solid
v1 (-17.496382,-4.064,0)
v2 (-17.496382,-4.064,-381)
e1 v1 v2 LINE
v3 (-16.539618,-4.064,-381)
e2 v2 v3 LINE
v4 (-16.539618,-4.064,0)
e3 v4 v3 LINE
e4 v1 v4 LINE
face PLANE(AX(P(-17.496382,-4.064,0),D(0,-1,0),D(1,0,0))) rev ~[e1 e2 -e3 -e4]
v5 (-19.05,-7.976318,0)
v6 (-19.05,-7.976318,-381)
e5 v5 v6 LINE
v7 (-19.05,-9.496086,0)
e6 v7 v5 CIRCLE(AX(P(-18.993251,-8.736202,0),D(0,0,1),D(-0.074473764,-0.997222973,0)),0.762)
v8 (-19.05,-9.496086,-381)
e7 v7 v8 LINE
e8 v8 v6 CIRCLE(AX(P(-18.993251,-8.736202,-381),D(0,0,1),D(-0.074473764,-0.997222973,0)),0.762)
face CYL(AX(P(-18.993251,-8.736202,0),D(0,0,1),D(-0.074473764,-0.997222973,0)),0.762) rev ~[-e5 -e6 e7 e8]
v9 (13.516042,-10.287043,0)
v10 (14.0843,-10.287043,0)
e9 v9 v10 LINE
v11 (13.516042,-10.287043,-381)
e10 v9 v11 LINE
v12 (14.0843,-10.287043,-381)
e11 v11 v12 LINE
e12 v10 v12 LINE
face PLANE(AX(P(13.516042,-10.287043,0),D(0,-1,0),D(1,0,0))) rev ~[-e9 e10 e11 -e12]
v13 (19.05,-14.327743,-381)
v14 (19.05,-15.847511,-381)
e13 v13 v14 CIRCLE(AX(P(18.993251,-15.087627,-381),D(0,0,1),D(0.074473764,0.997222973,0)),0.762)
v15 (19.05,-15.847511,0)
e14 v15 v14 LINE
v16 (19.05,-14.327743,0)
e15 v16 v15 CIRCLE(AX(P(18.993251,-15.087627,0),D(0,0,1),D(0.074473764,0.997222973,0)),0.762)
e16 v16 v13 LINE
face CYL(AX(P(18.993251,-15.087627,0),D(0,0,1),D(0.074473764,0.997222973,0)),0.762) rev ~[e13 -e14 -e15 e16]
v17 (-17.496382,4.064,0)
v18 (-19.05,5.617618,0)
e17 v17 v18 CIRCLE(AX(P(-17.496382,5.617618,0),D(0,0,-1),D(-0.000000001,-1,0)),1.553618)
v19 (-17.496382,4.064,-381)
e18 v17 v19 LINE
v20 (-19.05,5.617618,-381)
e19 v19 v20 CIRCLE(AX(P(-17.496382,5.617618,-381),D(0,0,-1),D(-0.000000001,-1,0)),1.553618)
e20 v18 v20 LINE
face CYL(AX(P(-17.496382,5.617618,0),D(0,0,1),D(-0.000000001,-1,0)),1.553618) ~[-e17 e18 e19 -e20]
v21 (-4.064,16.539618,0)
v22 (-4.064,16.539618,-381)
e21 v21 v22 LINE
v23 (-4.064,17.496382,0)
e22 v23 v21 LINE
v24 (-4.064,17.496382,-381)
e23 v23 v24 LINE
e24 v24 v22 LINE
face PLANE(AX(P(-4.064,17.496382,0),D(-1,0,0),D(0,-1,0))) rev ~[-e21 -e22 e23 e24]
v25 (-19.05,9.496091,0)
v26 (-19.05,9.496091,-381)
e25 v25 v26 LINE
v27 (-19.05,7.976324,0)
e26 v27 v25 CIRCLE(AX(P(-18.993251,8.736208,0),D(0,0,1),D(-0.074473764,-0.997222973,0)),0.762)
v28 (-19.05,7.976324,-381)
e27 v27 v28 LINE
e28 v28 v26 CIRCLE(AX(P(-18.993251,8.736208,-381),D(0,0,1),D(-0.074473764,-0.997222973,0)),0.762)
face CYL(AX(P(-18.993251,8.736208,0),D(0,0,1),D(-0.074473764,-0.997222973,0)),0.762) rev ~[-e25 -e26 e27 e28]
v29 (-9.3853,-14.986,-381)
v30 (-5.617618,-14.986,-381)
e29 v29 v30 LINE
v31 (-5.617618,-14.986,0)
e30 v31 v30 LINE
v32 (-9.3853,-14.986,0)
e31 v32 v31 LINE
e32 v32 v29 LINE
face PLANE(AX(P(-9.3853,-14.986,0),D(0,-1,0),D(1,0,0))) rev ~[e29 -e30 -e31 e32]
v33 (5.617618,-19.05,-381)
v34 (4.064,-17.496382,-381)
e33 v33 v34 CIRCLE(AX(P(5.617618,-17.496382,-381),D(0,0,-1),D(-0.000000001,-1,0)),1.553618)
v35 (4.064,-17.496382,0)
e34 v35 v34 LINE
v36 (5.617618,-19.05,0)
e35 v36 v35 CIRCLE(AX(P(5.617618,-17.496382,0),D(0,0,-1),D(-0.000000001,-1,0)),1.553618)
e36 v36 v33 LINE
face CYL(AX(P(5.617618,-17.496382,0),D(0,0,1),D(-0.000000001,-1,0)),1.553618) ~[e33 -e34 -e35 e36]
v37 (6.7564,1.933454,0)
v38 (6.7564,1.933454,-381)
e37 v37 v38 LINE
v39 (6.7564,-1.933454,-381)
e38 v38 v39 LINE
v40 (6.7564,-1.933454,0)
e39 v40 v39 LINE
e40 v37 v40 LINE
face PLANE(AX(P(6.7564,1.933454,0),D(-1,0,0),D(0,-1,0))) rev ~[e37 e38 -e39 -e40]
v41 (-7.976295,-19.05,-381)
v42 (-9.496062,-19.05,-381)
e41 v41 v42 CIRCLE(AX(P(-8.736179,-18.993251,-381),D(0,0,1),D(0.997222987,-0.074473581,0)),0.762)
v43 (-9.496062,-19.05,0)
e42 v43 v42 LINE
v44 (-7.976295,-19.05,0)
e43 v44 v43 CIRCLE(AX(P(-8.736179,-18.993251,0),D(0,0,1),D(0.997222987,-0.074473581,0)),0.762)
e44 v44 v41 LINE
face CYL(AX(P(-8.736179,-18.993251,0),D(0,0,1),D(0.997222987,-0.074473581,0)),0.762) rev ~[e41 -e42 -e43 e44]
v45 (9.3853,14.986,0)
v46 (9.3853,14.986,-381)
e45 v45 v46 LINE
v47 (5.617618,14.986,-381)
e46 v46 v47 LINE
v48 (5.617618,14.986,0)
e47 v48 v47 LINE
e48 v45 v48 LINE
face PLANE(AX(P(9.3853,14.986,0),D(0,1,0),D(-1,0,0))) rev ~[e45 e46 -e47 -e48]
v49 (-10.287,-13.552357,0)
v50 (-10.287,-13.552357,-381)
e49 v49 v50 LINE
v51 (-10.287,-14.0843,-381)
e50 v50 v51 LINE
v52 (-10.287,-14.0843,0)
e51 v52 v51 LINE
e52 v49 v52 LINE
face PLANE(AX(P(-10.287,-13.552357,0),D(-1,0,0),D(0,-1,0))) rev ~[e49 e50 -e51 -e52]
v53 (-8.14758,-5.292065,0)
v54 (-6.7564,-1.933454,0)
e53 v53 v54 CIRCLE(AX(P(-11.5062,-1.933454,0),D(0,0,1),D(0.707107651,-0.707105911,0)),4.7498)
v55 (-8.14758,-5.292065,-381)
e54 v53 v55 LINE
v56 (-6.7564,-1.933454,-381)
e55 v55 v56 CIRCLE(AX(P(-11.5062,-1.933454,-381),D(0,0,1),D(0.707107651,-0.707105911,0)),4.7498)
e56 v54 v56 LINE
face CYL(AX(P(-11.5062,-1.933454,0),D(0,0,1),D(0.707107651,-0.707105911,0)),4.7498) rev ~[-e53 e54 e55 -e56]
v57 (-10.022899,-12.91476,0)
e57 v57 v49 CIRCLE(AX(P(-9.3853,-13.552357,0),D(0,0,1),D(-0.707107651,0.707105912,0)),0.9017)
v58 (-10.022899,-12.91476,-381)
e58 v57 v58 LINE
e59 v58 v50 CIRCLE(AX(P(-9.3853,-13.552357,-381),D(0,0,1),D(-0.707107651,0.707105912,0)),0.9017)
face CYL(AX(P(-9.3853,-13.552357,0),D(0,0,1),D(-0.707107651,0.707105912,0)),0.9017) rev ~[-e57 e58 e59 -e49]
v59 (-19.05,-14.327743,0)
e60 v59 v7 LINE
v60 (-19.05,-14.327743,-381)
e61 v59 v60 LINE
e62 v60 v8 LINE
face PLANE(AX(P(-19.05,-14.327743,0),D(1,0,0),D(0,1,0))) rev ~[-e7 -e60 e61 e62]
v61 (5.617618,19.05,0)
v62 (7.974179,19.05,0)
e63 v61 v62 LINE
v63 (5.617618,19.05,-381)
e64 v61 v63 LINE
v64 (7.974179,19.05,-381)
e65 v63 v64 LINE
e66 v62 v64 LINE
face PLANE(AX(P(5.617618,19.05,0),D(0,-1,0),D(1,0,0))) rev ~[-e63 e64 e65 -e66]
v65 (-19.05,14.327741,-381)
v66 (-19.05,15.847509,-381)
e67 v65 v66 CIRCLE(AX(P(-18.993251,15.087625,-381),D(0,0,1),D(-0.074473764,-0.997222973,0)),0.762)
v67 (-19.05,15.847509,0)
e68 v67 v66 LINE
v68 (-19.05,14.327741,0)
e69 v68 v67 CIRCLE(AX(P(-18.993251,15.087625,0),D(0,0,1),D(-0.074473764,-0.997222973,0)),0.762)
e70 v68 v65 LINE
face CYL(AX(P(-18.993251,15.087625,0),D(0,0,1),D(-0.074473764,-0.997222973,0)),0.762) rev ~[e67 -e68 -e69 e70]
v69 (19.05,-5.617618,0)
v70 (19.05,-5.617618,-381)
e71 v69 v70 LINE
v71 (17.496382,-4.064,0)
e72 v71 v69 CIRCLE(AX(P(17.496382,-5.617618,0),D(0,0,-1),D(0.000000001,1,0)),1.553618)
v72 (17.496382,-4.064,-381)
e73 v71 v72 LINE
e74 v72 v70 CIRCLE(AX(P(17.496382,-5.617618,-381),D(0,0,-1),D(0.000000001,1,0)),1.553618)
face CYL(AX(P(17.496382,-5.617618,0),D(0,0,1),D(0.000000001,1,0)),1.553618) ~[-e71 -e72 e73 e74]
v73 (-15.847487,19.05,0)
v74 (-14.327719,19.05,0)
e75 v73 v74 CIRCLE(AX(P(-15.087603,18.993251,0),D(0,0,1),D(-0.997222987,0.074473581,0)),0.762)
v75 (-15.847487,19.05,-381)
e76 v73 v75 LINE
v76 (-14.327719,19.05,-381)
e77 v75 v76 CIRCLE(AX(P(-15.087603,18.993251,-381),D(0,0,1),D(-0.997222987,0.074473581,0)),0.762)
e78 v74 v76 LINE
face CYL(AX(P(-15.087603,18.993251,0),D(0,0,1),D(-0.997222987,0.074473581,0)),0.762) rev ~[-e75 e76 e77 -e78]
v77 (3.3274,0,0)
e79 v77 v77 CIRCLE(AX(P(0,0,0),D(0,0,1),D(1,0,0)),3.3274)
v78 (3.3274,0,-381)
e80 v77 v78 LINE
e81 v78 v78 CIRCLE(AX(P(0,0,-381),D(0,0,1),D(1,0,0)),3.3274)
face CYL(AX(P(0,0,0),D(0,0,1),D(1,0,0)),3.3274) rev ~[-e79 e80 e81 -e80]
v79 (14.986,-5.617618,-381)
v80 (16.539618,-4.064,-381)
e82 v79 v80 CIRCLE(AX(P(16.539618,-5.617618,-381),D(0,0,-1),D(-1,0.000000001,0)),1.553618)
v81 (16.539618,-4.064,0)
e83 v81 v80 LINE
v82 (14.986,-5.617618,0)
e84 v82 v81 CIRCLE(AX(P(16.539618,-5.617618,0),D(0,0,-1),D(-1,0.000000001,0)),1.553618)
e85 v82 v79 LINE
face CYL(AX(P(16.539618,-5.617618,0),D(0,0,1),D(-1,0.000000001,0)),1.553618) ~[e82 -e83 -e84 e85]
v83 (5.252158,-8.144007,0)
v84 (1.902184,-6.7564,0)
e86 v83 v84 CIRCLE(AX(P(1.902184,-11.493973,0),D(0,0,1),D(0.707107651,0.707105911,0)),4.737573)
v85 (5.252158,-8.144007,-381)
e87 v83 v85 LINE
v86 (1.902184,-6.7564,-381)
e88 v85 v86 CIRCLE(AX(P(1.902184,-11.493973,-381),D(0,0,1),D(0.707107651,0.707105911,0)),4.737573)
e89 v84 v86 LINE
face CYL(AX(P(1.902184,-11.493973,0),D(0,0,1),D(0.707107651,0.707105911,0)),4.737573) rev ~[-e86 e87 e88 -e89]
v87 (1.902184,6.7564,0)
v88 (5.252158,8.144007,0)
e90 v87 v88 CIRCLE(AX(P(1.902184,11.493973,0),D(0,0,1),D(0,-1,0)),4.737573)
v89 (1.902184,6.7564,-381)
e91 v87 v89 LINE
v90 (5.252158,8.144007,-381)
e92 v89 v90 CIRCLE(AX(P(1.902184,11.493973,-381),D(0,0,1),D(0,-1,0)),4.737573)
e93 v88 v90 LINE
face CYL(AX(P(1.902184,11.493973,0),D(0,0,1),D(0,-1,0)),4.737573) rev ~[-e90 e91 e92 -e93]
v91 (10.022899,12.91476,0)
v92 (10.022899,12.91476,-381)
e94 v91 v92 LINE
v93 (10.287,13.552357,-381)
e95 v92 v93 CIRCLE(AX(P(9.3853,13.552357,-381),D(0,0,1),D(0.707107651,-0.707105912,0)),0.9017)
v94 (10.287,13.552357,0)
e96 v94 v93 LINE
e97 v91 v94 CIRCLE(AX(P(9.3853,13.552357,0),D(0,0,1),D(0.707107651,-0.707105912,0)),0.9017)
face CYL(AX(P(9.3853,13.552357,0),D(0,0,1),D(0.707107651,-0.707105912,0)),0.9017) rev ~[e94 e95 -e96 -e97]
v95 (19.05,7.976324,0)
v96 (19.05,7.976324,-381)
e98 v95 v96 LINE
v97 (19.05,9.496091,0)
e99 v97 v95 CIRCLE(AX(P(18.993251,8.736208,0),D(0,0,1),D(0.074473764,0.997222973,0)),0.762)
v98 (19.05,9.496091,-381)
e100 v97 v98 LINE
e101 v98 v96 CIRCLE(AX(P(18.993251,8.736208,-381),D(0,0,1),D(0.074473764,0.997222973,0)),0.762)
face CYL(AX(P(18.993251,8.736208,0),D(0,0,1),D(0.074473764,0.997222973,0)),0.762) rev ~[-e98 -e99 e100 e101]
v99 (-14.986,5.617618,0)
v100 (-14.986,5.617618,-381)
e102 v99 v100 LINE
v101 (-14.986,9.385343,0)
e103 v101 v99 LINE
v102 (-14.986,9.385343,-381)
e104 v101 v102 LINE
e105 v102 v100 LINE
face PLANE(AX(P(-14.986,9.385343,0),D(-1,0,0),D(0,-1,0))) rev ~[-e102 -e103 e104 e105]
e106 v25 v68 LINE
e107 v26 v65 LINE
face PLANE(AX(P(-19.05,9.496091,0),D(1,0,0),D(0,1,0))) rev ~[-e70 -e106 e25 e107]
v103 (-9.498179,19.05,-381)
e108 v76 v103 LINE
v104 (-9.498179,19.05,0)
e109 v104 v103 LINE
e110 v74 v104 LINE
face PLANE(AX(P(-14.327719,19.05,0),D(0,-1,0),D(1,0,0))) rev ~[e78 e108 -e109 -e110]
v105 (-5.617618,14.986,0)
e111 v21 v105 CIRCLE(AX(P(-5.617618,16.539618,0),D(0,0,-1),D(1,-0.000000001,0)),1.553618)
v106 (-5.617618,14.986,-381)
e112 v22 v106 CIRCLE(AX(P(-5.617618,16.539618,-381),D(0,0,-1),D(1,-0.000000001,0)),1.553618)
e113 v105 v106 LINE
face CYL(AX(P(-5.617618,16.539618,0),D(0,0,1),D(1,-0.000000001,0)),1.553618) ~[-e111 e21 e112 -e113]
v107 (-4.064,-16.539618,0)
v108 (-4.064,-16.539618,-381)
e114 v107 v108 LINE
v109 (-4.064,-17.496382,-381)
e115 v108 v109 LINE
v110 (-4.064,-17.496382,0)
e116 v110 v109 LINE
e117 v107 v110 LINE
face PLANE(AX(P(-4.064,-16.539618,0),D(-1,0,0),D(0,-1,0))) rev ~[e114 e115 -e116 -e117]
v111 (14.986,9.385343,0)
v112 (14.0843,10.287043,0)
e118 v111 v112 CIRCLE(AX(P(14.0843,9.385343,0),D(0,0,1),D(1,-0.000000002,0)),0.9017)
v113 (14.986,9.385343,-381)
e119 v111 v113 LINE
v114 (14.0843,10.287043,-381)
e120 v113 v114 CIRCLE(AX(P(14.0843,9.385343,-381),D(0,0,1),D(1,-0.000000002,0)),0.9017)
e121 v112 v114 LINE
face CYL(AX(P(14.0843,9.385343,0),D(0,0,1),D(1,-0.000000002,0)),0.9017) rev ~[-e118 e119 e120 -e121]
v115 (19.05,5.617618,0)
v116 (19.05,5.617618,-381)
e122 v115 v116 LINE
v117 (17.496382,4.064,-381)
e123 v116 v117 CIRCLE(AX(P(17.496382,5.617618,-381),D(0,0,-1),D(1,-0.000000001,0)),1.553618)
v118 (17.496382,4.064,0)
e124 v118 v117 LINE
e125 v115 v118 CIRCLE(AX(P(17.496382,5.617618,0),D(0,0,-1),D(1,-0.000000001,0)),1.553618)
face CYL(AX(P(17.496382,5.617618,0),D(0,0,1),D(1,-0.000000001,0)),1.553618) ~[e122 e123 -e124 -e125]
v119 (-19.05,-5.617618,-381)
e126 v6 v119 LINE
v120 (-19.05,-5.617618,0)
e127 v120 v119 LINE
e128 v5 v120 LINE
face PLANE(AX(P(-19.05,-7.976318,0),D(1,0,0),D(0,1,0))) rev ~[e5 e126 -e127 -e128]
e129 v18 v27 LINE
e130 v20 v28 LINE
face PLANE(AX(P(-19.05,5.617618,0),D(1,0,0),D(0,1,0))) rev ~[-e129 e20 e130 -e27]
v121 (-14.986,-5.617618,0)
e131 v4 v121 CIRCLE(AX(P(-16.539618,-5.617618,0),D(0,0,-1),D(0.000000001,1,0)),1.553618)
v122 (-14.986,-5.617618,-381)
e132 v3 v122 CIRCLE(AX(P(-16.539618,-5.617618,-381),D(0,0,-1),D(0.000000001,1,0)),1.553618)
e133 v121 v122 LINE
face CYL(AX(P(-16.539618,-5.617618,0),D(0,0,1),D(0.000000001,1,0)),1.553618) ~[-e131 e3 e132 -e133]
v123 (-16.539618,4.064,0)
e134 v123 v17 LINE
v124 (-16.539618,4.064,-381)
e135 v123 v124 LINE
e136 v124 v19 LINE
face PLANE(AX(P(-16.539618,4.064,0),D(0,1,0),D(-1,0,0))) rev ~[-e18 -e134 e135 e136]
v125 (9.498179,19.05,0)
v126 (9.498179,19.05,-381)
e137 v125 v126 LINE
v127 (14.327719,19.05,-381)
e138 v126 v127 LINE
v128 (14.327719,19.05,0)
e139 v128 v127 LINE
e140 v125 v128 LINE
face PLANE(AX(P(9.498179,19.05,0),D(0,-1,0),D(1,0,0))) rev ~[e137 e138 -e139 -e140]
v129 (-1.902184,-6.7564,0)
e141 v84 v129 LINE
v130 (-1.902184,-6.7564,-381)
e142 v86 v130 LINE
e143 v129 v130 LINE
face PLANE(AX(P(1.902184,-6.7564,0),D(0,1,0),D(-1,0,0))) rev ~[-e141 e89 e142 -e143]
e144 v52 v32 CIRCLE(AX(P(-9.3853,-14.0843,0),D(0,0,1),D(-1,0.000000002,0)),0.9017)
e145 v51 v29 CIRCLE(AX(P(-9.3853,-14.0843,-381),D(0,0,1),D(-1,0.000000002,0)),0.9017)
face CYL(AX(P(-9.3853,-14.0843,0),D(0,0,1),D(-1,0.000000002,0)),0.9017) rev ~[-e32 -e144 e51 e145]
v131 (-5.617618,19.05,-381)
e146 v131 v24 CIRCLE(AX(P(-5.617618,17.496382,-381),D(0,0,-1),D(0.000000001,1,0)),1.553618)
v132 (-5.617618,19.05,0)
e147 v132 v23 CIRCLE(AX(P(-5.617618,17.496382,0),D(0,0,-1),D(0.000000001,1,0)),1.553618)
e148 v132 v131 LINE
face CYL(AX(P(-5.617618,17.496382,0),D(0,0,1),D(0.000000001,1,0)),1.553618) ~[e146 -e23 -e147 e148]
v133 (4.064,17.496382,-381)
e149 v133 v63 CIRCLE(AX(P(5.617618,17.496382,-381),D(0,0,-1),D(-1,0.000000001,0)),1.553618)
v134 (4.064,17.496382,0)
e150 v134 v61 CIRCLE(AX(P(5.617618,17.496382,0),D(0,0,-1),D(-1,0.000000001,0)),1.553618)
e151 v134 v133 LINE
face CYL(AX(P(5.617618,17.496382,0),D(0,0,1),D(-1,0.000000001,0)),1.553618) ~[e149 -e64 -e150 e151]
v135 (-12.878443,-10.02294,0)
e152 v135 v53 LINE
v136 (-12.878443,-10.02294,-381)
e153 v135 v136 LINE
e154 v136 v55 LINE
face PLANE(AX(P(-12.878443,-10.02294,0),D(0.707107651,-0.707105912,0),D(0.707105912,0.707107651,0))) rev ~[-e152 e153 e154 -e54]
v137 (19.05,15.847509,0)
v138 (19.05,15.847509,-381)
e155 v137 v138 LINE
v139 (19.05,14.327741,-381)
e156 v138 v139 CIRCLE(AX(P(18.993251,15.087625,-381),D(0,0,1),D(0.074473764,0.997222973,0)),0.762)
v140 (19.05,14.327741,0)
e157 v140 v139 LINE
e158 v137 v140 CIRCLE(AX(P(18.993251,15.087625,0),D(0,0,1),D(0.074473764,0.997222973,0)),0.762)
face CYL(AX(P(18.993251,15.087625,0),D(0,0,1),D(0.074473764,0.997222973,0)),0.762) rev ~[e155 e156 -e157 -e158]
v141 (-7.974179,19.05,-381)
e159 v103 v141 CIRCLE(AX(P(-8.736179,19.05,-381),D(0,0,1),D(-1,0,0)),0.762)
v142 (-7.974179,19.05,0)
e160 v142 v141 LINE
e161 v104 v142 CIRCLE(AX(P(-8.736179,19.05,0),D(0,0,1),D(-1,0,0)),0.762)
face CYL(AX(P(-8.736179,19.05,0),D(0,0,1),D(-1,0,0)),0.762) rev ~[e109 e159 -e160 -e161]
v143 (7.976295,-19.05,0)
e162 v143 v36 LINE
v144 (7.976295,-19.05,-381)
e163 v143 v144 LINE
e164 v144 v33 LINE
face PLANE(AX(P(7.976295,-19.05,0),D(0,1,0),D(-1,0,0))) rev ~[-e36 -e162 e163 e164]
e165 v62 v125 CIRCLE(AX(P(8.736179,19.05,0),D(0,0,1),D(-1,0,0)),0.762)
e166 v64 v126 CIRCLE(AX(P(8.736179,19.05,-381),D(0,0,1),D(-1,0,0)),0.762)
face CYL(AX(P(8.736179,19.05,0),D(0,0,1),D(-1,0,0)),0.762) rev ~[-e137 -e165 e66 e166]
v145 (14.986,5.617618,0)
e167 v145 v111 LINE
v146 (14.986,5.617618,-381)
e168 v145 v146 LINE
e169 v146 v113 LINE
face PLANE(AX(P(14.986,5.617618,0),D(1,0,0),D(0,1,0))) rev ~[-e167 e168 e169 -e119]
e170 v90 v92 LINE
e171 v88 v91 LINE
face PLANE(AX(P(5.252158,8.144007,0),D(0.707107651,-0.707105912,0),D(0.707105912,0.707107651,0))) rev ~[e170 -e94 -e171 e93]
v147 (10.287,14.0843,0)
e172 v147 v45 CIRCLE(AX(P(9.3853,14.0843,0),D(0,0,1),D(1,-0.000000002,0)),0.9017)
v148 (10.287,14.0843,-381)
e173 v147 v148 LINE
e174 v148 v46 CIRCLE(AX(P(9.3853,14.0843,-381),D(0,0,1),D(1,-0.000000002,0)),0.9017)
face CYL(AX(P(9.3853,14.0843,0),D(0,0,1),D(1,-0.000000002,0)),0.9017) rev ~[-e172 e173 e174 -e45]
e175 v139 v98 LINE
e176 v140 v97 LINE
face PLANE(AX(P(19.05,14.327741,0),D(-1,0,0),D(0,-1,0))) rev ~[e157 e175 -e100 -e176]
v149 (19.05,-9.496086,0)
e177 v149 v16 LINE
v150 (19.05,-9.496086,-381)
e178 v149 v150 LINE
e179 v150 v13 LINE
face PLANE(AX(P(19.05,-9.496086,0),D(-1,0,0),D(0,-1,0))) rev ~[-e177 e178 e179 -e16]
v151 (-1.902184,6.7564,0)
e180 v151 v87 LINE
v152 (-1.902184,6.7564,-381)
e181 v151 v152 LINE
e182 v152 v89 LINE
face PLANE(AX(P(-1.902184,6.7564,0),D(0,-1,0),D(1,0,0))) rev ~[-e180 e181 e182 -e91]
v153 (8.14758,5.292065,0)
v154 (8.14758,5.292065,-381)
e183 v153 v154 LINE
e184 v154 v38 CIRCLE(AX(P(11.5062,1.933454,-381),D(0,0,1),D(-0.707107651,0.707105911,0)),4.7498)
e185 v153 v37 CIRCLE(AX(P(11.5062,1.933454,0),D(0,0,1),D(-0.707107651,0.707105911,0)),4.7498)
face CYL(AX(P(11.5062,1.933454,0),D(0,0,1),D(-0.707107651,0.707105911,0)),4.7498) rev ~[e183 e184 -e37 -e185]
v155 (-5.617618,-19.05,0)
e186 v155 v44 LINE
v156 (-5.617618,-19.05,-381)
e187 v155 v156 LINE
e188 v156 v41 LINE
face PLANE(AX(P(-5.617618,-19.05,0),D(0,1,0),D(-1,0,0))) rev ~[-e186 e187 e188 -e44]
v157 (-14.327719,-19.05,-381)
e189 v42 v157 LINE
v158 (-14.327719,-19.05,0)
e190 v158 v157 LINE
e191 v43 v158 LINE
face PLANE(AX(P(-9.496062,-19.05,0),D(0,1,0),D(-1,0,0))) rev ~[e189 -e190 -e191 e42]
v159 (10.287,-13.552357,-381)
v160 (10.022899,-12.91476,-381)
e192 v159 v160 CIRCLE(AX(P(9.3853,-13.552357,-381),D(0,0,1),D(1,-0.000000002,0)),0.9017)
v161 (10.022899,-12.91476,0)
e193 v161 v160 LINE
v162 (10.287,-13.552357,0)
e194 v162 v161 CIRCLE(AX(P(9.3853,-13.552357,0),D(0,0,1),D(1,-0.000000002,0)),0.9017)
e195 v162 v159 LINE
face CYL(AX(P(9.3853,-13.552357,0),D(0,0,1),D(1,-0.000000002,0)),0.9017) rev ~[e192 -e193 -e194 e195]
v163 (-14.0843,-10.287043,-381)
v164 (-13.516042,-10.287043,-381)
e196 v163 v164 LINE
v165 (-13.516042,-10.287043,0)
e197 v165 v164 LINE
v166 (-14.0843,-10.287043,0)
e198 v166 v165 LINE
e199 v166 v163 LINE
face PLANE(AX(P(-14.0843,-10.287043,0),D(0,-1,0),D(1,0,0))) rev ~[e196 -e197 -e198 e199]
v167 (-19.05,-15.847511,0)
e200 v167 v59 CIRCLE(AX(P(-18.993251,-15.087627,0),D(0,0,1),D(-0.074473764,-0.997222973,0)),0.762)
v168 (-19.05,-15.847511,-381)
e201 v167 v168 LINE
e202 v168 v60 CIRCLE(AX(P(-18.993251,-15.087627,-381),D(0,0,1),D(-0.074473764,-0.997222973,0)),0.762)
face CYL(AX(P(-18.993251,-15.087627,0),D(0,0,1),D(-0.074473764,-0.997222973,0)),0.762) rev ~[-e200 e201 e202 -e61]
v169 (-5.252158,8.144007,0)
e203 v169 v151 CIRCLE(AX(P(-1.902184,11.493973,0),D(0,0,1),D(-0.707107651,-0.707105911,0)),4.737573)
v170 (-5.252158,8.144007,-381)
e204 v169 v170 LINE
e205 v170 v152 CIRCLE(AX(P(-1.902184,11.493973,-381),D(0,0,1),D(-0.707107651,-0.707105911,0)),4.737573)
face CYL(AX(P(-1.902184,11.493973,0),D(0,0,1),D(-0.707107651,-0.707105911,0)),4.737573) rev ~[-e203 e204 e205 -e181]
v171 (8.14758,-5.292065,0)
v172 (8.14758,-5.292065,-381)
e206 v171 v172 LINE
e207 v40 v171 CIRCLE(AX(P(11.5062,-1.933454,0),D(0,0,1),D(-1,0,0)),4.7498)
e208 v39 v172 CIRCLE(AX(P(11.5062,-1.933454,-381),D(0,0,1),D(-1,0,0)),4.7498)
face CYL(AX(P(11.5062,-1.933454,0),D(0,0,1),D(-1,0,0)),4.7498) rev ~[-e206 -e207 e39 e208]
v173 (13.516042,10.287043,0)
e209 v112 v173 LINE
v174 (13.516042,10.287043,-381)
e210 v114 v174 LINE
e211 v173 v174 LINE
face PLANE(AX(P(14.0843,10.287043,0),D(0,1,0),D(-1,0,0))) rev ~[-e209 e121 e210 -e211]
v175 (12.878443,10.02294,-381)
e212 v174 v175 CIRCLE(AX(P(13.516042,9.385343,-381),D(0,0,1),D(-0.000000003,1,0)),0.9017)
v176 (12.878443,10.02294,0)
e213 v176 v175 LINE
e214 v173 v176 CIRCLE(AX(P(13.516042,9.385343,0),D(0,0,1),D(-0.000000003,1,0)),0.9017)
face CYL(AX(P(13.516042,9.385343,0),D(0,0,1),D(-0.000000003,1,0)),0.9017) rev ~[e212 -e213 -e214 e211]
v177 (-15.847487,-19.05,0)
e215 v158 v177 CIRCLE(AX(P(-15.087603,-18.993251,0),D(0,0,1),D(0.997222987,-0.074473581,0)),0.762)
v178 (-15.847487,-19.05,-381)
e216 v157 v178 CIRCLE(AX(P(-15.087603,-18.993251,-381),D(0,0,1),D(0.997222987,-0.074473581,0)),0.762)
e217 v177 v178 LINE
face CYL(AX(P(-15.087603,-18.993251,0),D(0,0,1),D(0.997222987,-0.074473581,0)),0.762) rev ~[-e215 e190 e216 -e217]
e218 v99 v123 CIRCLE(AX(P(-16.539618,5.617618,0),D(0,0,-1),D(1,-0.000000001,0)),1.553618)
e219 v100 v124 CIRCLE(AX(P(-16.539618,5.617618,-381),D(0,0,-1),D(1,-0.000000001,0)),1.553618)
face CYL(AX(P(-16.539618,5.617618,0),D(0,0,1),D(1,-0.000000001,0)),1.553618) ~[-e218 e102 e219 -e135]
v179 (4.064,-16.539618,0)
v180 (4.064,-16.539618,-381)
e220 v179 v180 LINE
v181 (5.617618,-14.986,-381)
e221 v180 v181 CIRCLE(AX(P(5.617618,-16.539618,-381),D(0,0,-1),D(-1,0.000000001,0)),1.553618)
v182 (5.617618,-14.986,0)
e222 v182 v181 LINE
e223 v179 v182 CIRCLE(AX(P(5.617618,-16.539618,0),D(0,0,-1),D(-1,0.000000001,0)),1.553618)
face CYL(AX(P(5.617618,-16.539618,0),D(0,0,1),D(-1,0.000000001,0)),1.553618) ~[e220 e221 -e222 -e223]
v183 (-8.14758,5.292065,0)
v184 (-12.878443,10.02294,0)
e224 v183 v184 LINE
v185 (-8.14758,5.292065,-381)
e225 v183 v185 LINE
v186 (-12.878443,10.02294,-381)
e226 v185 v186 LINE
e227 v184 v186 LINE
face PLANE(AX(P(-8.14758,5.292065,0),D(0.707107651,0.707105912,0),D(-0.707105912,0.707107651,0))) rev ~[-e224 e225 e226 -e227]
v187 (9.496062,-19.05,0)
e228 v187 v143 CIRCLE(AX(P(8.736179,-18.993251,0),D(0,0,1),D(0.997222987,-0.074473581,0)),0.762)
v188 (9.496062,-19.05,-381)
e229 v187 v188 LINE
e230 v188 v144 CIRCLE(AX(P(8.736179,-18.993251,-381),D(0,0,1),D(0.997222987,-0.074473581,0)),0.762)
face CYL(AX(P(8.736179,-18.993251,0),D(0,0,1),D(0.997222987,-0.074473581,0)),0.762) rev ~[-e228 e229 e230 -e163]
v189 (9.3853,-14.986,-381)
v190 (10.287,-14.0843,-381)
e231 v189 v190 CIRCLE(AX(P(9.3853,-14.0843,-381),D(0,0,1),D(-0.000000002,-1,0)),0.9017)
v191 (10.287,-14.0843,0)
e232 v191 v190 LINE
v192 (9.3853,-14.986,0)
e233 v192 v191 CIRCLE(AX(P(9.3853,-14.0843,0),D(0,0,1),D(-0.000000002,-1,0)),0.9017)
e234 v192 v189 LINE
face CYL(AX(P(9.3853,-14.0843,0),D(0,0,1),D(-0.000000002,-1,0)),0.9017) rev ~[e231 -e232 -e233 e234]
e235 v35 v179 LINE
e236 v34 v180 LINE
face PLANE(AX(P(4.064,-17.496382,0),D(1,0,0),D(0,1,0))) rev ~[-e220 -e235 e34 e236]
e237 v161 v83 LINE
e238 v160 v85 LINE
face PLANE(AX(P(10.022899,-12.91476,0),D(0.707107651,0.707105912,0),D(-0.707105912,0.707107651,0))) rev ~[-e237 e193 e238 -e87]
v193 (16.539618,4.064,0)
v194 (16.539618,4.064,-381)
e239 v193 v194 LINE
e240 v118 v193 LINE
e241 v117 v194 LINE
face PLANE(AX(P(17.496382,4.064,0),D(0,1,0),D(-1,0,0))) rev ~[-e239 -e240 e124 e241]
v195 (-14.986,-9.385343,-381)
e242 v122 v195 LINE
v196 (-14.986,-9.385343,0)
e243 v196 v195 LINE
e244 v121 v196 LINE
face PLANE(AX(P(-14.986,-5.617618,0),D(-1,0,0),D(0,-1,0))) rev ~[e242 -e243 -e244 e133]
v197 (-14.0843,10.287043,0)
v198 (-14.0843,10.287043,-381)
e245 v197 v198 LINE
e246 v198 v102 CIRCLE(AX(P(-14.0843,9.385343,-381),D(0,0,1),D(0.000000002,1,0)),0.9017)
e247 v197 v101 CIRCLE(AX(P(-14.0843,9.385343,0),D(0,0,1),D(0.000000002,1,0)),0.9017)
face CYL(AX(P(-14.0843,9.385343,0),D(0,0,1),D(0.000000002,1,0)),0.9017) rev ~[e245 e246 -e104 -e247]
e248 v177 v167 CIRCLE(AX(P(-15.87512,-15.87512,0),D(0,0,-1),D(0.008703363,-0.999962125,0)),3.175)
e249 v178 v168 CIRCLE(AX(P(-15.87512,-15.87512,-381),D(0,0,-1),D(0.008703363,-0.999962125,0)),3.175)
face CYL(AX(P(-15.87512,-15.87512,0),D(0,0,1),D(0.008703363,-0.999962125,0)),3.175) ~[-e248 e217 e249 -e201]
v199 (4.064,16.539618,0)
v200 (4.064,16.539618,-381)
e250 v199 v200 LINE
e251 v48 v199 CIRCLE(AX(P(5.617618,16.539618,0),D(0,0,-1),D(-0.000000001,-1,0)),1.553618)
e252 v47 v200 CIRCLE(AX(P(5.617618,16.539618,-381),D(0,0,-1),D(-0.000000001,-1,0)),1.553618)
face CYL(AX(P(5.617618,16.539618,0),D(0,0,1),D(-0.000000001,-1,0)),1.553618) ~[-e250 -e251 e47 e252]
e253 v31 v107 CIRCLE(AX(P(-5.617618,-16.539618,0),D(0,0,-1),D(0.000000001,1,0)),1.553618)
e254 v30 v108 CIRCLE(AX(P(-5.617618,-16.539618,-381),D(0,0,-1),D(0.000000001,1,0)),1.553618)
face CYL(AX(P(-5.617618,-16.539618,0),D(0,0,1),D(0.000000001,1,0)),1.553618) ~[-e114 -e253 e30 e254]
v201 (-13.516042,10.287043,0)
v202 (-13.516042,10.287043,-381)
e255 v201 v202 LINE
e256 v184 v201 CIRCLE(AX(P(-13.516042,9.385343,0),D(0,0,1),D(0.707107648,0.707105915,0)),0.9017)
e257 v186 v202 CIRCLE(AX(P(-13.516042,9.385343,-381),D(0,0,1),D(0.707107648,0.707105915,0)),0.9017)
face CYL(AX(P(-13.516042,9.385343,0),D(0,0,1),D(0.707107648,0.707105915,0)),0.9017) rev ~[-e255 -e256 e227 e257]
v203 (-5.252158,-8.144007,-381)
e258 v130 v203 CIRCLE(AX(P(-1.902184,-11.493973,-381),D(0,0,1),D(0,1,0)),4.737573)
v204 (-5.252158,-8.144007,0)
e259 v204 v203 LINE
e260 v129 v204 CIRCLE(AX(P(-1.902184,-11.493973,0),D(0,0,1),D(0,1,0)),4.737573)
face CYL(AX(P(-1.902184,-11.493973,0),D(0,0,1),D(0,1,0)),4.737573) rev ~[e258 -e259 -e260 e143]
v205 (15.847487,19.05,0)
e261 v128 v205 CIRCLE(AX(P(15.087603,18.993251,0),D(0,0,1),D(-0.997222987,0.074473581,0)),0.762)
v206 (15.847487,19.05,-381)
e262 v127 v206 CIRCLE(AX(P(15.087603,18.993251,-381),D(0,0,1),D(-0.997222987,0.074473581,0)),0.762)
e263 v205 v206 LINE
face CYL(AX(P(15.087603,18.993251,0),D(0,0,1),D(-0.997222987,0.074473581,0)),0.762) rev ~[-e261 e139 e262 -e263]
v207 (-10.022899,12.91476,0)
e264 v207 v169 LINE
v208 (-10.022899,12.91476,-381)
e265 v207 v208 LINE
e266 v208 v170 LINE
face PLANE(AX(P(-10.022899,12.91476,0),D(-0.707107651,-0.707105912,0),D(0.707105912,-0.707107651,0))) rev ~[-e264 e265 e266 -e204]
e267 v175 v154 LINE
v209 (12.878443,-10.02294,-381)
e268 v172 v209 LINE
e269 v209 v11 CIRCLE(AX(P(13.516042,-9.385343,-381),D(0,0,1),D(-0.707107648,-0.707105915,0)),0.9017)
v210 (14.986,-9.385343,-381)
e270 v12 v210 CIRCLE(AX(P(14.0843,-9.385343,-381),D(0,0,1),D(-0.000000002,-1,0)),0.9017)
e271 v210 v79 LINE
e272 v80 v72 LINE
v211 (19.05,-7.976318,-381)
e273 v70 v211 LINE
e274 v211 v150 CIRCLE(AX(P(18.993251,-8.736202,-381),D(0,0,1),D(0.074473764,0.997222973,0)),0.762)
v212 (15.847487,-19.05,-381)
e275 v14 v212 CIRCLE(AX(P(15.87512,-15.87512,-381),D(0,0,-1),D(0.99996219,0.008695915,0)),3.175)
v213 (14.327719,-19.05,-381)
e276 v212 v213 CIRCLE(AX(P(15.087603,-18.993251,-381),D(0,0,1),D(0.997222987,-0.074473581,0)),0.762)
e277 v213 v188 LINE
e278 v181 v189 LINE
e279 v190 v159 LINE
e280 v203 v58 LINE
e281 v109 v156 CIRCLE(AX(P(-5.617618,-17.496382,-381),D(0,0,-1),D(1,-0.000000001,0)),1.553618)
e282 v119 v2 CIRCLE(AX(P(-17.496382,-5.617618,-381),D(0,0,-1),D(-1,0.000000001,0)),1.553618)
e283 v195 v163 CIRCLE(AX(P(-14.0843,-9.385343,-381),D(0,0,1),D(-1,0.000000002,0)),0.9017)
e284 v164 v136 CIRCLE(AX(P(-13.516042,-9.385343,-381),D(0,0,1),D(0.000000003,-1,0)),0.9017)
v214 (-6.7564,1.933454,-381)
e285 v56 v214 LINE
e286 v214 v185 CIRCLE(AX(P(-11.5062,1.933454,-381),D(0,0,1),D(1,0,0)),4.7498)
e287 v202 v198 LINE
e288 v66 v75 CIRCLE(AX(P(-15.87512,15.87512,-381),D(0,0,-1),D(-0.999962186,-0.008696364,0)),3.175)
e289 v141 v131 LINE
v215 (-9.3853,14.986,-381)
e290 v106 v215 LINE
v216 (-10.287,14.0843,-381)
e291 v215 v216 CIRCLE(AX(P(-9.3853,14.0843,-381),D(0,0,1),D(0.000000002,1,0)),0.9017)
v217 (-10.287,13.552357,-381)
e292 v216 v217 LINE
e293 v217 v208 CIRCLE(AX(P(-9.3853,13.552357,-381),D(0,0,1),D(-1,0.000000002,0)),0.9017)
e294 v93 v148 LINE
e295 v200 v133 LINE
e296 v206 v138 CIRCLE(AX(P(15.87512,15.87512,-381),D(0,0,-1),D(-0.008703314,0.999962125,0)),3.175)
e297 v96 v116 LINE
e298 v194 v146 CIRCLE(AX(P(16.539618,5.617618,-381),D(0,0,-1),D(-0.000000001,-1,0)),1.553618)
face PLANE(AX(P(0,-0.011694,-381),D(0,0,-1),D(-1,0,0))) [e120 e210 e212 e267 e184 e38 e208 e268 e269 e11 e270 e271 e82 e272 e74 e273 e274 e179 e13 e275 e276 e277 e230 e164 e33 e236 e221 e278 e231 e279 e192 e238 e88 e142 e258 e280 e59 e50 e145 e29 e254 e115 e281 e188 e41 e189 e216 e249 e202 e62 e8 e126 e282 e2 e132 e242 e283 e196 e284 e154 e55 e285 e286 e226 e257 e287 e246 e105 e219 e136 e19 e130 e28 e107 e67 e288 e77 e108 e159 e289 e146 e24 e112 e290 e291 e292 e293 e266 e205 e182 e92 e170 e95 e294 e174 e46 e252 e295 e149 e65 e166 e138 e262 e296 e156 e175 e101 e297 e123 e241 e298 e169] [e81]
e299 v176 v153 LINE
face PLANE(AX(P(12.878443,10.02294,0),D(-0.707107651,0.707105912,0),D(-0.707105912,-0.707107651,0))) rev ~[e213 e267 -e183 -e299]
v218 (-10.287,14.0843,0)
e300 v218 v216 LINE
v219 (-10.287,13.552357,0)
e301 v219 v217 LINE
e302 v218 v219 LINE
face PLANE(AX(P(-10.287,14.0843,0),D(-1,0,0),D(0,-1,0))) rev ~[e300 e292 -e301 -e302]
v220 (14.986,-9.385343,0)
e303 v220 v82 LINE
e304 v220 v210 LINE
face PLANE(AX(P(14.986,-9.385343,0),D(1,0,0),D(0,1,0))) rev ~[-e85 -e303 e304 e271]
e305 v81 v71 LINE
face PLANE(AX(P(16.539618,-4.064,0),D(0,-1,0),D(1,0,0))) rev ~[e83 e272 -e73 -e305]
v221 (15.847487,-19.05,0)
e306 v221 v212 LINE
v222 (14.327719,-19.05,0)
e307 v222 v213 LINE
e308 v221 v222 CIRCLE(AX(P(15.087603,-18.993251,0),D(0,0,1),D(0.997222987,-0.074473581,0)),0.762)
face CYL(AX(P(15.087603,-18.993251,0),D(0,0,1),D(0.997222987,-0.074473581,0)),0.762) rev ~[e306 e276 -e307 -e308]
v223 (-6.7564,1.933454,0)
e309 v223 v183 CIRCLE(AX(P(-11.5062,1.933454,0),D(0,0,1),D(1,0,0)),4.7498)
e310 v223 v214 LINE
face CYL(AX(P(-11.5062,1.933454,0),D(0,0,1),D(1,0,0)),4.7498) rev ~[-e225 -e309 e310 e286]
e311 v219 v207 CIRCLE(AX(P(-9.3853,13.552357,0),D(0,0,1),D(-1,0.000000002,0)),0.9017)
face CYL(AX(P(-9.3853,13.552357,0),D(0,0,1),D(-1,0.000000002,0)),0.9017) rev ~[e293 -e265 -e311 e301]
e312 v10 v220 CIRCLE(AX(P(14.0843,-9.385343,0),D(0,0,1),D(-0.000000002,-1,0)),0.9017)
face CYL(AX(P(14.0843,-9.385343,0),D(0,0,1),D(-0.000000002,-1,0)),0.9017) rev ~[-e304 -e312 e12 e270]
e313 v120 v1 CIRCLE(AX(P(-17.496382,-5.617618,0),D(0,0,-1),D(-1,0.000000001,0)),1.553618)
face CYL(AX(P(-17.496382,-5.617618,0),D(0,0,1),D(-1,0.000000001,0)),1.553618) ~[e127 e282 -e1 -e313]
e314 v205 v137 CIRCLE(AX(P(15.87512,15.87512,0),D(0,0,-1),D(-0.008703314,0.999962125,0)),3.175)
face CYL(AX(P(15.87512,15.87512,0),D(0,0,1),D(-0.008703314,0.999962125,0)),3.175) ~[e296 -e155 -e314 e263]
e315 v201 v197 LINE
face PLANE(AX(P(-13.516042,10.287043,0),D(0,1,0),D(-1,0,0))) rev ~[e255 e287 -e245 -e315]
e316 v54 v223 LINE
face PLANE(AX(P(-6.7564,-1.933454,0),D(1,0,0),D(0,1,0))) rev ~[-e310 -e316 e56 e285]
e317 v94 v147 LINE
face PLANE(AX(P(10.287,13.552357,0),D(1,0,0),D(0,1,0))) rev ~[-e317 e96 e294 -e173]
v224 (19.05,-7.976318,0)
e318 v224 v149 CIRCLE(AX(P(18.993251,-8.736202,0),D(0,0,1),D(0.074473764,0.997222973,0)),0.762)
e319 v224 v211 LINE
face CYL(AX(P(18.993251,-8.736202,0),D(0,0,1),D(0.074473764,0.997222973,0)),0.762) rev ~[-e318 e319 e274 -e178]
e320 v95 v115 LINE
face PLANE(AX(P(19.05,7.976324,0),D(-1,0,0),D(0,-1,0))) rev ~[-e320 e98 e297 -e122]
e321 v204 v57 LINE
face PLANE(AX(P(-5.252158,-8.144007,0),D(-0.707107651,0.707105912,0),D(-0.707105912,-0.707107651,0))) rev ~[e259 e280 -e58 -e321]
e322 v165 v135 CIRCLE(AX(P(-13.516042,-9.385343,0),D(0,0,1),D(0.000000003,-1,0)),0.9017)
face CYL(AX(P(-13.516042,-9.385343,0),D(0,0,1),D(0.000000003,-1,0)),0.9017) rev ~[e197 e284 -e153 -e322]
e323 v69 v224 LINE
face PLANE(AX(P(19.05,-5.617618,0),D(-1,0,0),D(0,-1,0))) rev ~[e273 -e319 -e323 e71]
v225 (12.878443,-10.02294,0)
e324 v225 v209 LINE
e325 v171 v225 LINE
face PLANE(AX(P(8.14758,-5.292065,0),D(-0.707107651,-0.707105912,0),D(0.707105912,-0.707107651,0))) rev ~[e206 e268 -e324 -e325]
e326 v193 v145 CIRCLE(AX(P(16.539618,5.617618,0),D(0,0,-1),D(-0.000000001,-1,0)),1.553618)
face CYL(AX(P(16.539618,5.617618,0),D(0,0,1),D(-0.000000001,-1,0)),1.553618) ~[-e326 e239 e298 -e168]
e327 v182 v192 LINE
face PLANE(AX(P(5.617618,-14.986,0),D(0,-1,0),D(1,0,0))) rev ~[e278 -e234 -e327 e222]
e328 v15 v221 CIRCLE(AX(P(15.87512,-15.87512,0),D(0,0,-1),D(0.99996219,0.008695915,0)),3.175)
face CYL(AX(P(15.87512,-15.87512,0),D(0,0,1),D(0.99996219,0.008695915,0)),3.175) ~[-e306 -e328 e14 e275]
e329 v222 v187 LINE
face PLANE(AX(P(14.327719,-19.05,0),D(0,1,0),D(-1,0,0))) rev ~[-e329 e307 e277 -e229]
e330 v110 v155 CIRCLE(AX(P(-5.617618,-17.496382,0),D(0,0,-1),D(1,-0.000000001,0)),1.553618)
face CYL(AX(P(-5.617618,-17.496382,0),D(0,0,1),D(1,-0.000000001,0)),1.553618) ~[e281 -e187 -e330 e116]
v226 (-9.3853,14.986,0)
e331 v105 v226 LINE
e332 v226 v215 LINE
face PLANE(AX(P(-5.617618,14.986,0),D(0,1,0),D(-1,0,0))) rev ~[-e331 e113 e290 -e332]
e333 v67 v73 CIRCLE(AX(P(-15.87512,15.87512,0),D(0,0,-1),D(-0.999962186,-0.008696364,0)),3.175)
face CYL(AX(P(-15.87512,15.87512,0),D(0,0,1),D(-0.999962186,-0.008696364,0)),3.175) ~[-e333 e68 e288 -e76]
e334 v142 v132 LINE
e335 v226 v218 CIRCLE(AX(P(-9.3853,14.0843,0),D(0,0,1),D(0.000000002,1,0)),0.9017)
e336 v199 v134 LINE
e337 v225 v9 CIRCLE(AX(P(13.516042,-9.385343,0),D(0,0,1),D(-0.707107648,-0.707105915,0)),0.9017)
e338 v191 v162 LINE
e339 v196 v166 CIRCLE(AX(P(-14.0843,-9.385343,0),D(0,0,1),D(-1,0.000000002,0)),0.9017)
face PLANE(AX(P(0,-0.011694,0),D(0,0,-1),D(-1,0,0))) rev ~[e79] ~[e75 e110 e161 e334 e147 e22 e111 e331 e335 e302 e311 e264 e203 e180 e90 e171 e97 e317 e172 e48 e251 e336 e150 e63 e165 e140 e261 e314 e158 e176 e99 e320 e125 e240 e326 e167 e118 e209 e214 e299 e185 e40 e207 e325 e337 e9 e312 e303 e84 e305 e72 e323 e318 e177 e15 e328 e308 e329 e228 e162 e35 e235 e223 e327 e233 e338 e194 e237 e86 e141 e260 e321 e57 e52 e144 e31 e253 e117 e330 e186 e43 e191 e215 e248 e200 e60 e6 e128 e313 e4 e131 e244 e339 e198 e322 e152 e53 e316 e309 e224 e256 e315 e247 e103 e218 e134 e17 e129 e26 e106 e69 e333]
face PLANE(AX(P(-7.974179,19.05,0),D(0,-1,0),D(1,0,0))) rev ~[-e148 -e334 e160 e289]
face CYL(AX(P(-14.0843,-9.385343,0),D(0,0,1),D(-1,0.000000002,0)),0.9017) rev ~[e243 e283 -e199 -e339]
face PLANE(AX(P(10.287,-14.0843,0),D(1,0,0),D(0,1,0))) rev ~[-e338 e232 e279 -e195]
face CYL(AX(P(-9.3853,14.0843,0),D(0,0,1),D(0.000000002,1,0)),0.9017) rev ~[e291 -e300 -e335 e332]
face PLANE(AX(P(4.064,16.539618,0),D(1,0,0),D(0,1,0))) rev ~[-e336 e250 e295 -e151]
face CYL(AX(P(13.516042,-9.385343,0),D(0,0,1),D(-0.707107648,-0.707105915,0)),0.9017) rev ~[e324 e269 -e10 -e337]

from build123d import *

# Parameters (mm, degrees)
SKETCH1_R      = 3.3274
EXTRUDE1_DEPTH = 381


with BuildPart() as part:
    # Sketch1 → Extrude1 (new body)
    with BuildSketch(Plane.XY):
        with BuildLine():
            Line((-10.022898969, 12.91475973), (-5.252158105, 8.144007132))
            ThreePointArc((-5.252158105, 8.144007132), (-3.715177372, 7.117027388), (-1.902183975, 6.7564))
            Line((-1.902183975, 6.7564), (1.902183975, 6.7564))
            ThreePointArc((1.902183975, 6.7564), (3.715177372, 7.117027388), (5.252158105, 8.144007132))
            Line((5.252158105, 8.144007132), (10.022898969, 12.91475973))
            ThreePointArc((10.022898969, 12.91475973), (10.218362387, 13.207291992), (10.287, 13.552357131))
            Line((10.287, 13.552357131), (10.287, 14.0843))
            ThreePointArc((10.287, 14.0843), (10.022898185, 14.721898185), (9.3853, 14.986))
            Line((9.3853, 14.986), (5.617617549, 14.986))
            ThreePointArc((5.617617549, 14.986), (4.519044045, 15.441044045), (4.064, 16.539617549))
            Line((4.064, 16.539617549), (4.064, 17.496382451))
            ThreePointArc((4.064, 17.496382451), (4.519044045, 18.594955955), (5.617617549, 19.05))
            Line((5.617617549, 19.05), (7.974178704, 19.05))
            ThreePointArc((7.974178704, 19.05), (8.736178704, 18.288), (9.498178704, 19.05))
            Line((9.498178704, 19.05), (14.327719207, 19.05))
            ThreePointArc((14.327719207, 19.05), (15.087603123, 18.231251131), (15.847487039, 19.05))
            ThreePointArc((15.847487039, 19.05), (18.120176289, 18.120192083), (19.05, 15.847509295))
            ThreePointArc((19.05, 15.847509295), (18.231250992, 15.08762539), (19.05, 14.327741484))
            Line((19.05, 14.327741484), (19.05, 9.496091471))
            ThreePointArc((19.05, 9.496091471), (18.231250992, 8.736207565), (19.05, 7.97632366))
            Line((19.05, 7.97632366), (19.05, 5.617617549))
            ThreePointArc((19.05, 5.617617549), (18.594955955, 4.519044045), (17.496382451, 4.064))
            Line((17.496382451, 4.064), (16.539617549, 4.064))
            ThreePointArc((16.539617549, 4.064), (15.441044045, 4.519044045), (14.986, 5.617617549))
            Line((14.986, 5.617617549), (14.986, 9.385342516))
            ThreePointArc((14.986, 9.385342516), (14.721898185, 10.022940701), (14.0843, 10.287042516))
            Line((14.0843, 10.287042516), (13.516042086, 10.287042516))
            ThreePointArc((13.516042086, 10.287042516), (13.170975923, 10.218404478), (12.878443117, 10.022939917))
            Line((12.878443117, 10.022939917), (8.14758008, 5.292065243))
            ThreePointArc((8.14758008, 5.292065243), (7.117955879, 3.751120653), (6.7564, 1.933453584))
            Line((6.7564, 1.933453584), (6.7564, -1.933453584))
            ThreePointArc((6.7564, -1.933453584), (7.117955879, -3.751120653), (8.14758008, -5.292065243))
            Line((8.14758008, -5.292065243), (12.878443117, -10.022939917))
            ThreePointArc((12.878443117, -10.022939917), (13.170975923, -10.218404478), (13.516042086, -10.287042516))
            Line((13.516042086, -10.287042516), (14.0843, -10.287042516))
            ThreePointArc((14.0843, -10.287042516), (14.721898185, -10.022940701), (14.986, -9.385342516))
            Line((14.986, -9.385342516), (14.986, -5.617617549))
            ThreePointArc((14.986, -5.617617549), (15.441044045, -4.519044045), (16.539617549, -4.064))
            Line((16.539617549, -4.064), (17.496382451, -4.064))
            ThreePointArc((17.496382451, -4.064), (18.594955955, -4.519044045), (19.05, -5.617617549))
            Line((19.05, -5.617617549), (19.05, -7.976318491))
            ThreePointArc((19.05, -7.976318491), (18.231250992, -8.736202396), (19.05, -9.496086302))
            Line((19.05, -9.496086302), (19.05, -14.32774291))
            ThreePointArc((19.05, -14.32774291), (18.231250992, -15.087626816), (19.05, -15.847510721))
            ThreePointArc((19.05, -15.847510721), (18.120175716, -18.120192644), (15.847486868, -19.05))
            ThreePointArc((15.847486868, -19.05), (15.087602952, -18.231251131), (14.327719036, -19.05))
            Line((14.327719036, -19.05), (9.496062448, -19.05))
            ThreePointArc((9.496062448, -19.05), (8.736178532, -18.231251131), (7.976294616, -19.05))
            Line((7.976294616, -19.05), (5.617617549, -19.05))
            ThreePointArc((5.617617549, -19.05), (4.519044045, -18.594955955), (4.064, -17.496382451))
            Line((4.064, -17.496382451), (4.064, -16.539617549))
            ThreePointArc((4.064, -16.539617549), (4.519044045, -15.441044045), (5.617617549, -14.986))
            Line((5.617617549, -14.986), (9.3853, -14.986))
            ThreePointArc((9.3853, -14.986), (10.022898185, -14.721898185), (10.287, -14.0843))
            Line((10.287, -14.0843), (10.287, -13.552357131))
            ThreePointArc((10.287, -13.552357131), (10.218362387, -13.207291992), (10.022898969, -12.91475973))
            Line((10.022898969, -12.91475973), (5.252158105, -8.144007132))
            ThreePointArc((5.252158105, -8.144007132), (3.715177372, -7.117027388), (1.902183975, -6.7564))
            Line((1.902183975, -6.7564), (-1.902183975, -6.7564))
            ThreePointArc((-1.902183975, -6.7564), (-3.715177372, -7.117027388), (-5.252158105, -8.144007132))
            Line((-5.252158105, -8.144007132), (-10.022898969, -12.91475973))
            ThreePointArc((-10.022898969, -12.91475973), (-10.218362387, -13.207291992), (-10.287, -13.552357131))
            Line((-10.287, -13.552357131), (-10.287, -14.0843))
            ThreePointArc((-10.287, -14.0843), (-10.022898185, -14.721898185), (-9.3853, -14.986))
            Line((-9.3853, -14.986), (-5.617617549, -14.986))
            ThreePointArc((-5.617617549, -14.986), (-4.519044045, -15.441044045), (-4.064, -16.539617549))
            Line((-4.064, -16.539617549), (-4.064, -17.496382451))
            ThreePointArc((-4.064, -17.496382451), (-4.519044045, -18.594955955), (-5.617617549, -19.05))
            Line((-5.617617549, -19.05), (-7.976294616, -19.05))
            ThreePointArc((-7.976294616, -19.05), (-8.736178532, -18.231251131), (-9.496062448, -19.05))
            Line((-9.496062448, -19.05), (-14.327719036, -19.05))
            ThreePointArc((-14.327719036, -19.05), (-15.087602952, -18.231251131), (-15.847486868, -19.05))
            ThreePointArc((-15.847486868, -19.05), (-18.120175716, -18.120192644), (-19.05, -15.847510721))
            ThreePointArc((-19.05, -15.847510721), (-18.231250992, -15.087626816), (-19.05, -14.32774291))
            Line((-19.05, -14.32774291), (-19.05, -9.496086302))
            ThreePointArc((-19.05, -9.496086302), (-18.231250992, -8.736202396), (-19.05, -7.976318491))
            Line((-19.05, -7.976318491), (-19.05, -5.617617549))
            ThreePointArc((-19.05, -5.617617549), (-18.594955955, -4.519044045), (-17.496382451, -4.064))
            Line((-17.496382451, -4.064), (-16.539617549, -4.064))
            ThreePointArc((-16.539617549, -4.064), (-15.441044045, -4.519044045), (-14.986, -5.617617549))
            Line((-14.986, -5.617617549), (-14.986, -9.385342516))
            ThreePointArc((-14.986, -9.385342516), (-14.721898185, -10.022940701), (-14.0843, -10.287042516))
            Line((-14.0843, -10.287042516), (-13.516042086, -10.287042516))
            ThreePointArc((-13.516042086, -10.287042516), (-13.170975923, -10.218404478), (-12.878443117, -10.022939917))
            Line((-12.878443117, -10.022939917), (-8.14758008, -5.292065243))
            ThreePointArc((-8.14758008, -5.292065243), (-7.117955879, -3.751120653), (-6.7564, -1.933453584))
            Line((-6.7564, -1.933453584), (-6.7564, 1.933453584))
            ThreePointArc((-6.7564, 1.933453584), (-7.117955879, 3.751120653), (-8.14758008, 5.292065243))
            Line((-8.14758008, 5.292065243), (-12.878443117, 10.022939917))
            ThreePointArc((-12.878443117, 10.022939917), (-13.170975923, 10.218404478), (-13.516042086, 10.287042516))
            Line((-13.516042086, 10.287042516), (-14.0843, 10.287042516))
            ThreePointArc((-14.0843, 10.287042516), (-14.721898185, 10.022940701), (-14.986, 9.385342516))
            Line((-14.986, 9.385342516), (-14.986, 5.617617549))
            ThreePointArc((-14.986, 5.617617549), (-15.441044045, 4.519044045), (-16.539617549, 4.064))
            Line((-16.539617549, 4.064), (-17.496382451, 4.064))
            ThreePointArc((-17.496382451, 4.064), (-18.594955955, 4.519044045), (-19.05, 5.617617549))
            Line((-19.05, 5.617617549), (-19.05, 7.97632366))
            ThreePointArc((-19.05, 7.97632366), (-18.231250992, 8.736207565), (-19.05, 9.496091471))
            Line((-19.05, 9.496091471), (-19.05, 14.327741484))
            ThreePointArc((-19.05, 14.327741484), (-18.231250992, 15.08762539), (-19.05, 15.847509295))
            ThreePointArc((-19.05, 15.847509295), (-18.120176289, 18.120192083), (-15.847487039, 19.05))
            ThreePointArc((-15.847487039, 19.05), (-15.087603123, 18.231251131), (-14.327719207, 19.05))
            Line((-14.327719207, 19.05), (-9.498178704, 19.05))
            ThreePointArc((-9.498178704, 19.05), (-8.736178704, 18.288), (-7.974178704, 19.05))
            Line((-7.974178704, 19.05), (-5.617617549, 19.05))
            ThreePointArc((-5.617617549, 19.05), (-4.519044045, 18.594955955), (-4.064, 17.496382451))
            Line((-4.064, 17.496382451), (-4.064, 16.539617549))
            ThreePointArc((-4.064, 16.539617549), (-4.519044045, 15.441044045), (-5.617617549, 14.986))
            Line((-5.617617549, 14.986), (-9.3853, 14.986))
            ThreePointArc((-9.3853, 14.986), (-10.022898185, 14.721898185), (-10.287, 14.0843))
            Line((-10.287, 14.0843), (-10.287, 13.552357131))
            ThreePointArc((-10.287, 13.552357131), (-10.218362387, 13.207291992), (-10.022898969, 12.91475973))
        make_face()
        Circle(SKETCH1_R, mode=Mode.SUBTRACT)
    extrude(amount=-EXTRUDE1_DEPTH)


solid = part.part
